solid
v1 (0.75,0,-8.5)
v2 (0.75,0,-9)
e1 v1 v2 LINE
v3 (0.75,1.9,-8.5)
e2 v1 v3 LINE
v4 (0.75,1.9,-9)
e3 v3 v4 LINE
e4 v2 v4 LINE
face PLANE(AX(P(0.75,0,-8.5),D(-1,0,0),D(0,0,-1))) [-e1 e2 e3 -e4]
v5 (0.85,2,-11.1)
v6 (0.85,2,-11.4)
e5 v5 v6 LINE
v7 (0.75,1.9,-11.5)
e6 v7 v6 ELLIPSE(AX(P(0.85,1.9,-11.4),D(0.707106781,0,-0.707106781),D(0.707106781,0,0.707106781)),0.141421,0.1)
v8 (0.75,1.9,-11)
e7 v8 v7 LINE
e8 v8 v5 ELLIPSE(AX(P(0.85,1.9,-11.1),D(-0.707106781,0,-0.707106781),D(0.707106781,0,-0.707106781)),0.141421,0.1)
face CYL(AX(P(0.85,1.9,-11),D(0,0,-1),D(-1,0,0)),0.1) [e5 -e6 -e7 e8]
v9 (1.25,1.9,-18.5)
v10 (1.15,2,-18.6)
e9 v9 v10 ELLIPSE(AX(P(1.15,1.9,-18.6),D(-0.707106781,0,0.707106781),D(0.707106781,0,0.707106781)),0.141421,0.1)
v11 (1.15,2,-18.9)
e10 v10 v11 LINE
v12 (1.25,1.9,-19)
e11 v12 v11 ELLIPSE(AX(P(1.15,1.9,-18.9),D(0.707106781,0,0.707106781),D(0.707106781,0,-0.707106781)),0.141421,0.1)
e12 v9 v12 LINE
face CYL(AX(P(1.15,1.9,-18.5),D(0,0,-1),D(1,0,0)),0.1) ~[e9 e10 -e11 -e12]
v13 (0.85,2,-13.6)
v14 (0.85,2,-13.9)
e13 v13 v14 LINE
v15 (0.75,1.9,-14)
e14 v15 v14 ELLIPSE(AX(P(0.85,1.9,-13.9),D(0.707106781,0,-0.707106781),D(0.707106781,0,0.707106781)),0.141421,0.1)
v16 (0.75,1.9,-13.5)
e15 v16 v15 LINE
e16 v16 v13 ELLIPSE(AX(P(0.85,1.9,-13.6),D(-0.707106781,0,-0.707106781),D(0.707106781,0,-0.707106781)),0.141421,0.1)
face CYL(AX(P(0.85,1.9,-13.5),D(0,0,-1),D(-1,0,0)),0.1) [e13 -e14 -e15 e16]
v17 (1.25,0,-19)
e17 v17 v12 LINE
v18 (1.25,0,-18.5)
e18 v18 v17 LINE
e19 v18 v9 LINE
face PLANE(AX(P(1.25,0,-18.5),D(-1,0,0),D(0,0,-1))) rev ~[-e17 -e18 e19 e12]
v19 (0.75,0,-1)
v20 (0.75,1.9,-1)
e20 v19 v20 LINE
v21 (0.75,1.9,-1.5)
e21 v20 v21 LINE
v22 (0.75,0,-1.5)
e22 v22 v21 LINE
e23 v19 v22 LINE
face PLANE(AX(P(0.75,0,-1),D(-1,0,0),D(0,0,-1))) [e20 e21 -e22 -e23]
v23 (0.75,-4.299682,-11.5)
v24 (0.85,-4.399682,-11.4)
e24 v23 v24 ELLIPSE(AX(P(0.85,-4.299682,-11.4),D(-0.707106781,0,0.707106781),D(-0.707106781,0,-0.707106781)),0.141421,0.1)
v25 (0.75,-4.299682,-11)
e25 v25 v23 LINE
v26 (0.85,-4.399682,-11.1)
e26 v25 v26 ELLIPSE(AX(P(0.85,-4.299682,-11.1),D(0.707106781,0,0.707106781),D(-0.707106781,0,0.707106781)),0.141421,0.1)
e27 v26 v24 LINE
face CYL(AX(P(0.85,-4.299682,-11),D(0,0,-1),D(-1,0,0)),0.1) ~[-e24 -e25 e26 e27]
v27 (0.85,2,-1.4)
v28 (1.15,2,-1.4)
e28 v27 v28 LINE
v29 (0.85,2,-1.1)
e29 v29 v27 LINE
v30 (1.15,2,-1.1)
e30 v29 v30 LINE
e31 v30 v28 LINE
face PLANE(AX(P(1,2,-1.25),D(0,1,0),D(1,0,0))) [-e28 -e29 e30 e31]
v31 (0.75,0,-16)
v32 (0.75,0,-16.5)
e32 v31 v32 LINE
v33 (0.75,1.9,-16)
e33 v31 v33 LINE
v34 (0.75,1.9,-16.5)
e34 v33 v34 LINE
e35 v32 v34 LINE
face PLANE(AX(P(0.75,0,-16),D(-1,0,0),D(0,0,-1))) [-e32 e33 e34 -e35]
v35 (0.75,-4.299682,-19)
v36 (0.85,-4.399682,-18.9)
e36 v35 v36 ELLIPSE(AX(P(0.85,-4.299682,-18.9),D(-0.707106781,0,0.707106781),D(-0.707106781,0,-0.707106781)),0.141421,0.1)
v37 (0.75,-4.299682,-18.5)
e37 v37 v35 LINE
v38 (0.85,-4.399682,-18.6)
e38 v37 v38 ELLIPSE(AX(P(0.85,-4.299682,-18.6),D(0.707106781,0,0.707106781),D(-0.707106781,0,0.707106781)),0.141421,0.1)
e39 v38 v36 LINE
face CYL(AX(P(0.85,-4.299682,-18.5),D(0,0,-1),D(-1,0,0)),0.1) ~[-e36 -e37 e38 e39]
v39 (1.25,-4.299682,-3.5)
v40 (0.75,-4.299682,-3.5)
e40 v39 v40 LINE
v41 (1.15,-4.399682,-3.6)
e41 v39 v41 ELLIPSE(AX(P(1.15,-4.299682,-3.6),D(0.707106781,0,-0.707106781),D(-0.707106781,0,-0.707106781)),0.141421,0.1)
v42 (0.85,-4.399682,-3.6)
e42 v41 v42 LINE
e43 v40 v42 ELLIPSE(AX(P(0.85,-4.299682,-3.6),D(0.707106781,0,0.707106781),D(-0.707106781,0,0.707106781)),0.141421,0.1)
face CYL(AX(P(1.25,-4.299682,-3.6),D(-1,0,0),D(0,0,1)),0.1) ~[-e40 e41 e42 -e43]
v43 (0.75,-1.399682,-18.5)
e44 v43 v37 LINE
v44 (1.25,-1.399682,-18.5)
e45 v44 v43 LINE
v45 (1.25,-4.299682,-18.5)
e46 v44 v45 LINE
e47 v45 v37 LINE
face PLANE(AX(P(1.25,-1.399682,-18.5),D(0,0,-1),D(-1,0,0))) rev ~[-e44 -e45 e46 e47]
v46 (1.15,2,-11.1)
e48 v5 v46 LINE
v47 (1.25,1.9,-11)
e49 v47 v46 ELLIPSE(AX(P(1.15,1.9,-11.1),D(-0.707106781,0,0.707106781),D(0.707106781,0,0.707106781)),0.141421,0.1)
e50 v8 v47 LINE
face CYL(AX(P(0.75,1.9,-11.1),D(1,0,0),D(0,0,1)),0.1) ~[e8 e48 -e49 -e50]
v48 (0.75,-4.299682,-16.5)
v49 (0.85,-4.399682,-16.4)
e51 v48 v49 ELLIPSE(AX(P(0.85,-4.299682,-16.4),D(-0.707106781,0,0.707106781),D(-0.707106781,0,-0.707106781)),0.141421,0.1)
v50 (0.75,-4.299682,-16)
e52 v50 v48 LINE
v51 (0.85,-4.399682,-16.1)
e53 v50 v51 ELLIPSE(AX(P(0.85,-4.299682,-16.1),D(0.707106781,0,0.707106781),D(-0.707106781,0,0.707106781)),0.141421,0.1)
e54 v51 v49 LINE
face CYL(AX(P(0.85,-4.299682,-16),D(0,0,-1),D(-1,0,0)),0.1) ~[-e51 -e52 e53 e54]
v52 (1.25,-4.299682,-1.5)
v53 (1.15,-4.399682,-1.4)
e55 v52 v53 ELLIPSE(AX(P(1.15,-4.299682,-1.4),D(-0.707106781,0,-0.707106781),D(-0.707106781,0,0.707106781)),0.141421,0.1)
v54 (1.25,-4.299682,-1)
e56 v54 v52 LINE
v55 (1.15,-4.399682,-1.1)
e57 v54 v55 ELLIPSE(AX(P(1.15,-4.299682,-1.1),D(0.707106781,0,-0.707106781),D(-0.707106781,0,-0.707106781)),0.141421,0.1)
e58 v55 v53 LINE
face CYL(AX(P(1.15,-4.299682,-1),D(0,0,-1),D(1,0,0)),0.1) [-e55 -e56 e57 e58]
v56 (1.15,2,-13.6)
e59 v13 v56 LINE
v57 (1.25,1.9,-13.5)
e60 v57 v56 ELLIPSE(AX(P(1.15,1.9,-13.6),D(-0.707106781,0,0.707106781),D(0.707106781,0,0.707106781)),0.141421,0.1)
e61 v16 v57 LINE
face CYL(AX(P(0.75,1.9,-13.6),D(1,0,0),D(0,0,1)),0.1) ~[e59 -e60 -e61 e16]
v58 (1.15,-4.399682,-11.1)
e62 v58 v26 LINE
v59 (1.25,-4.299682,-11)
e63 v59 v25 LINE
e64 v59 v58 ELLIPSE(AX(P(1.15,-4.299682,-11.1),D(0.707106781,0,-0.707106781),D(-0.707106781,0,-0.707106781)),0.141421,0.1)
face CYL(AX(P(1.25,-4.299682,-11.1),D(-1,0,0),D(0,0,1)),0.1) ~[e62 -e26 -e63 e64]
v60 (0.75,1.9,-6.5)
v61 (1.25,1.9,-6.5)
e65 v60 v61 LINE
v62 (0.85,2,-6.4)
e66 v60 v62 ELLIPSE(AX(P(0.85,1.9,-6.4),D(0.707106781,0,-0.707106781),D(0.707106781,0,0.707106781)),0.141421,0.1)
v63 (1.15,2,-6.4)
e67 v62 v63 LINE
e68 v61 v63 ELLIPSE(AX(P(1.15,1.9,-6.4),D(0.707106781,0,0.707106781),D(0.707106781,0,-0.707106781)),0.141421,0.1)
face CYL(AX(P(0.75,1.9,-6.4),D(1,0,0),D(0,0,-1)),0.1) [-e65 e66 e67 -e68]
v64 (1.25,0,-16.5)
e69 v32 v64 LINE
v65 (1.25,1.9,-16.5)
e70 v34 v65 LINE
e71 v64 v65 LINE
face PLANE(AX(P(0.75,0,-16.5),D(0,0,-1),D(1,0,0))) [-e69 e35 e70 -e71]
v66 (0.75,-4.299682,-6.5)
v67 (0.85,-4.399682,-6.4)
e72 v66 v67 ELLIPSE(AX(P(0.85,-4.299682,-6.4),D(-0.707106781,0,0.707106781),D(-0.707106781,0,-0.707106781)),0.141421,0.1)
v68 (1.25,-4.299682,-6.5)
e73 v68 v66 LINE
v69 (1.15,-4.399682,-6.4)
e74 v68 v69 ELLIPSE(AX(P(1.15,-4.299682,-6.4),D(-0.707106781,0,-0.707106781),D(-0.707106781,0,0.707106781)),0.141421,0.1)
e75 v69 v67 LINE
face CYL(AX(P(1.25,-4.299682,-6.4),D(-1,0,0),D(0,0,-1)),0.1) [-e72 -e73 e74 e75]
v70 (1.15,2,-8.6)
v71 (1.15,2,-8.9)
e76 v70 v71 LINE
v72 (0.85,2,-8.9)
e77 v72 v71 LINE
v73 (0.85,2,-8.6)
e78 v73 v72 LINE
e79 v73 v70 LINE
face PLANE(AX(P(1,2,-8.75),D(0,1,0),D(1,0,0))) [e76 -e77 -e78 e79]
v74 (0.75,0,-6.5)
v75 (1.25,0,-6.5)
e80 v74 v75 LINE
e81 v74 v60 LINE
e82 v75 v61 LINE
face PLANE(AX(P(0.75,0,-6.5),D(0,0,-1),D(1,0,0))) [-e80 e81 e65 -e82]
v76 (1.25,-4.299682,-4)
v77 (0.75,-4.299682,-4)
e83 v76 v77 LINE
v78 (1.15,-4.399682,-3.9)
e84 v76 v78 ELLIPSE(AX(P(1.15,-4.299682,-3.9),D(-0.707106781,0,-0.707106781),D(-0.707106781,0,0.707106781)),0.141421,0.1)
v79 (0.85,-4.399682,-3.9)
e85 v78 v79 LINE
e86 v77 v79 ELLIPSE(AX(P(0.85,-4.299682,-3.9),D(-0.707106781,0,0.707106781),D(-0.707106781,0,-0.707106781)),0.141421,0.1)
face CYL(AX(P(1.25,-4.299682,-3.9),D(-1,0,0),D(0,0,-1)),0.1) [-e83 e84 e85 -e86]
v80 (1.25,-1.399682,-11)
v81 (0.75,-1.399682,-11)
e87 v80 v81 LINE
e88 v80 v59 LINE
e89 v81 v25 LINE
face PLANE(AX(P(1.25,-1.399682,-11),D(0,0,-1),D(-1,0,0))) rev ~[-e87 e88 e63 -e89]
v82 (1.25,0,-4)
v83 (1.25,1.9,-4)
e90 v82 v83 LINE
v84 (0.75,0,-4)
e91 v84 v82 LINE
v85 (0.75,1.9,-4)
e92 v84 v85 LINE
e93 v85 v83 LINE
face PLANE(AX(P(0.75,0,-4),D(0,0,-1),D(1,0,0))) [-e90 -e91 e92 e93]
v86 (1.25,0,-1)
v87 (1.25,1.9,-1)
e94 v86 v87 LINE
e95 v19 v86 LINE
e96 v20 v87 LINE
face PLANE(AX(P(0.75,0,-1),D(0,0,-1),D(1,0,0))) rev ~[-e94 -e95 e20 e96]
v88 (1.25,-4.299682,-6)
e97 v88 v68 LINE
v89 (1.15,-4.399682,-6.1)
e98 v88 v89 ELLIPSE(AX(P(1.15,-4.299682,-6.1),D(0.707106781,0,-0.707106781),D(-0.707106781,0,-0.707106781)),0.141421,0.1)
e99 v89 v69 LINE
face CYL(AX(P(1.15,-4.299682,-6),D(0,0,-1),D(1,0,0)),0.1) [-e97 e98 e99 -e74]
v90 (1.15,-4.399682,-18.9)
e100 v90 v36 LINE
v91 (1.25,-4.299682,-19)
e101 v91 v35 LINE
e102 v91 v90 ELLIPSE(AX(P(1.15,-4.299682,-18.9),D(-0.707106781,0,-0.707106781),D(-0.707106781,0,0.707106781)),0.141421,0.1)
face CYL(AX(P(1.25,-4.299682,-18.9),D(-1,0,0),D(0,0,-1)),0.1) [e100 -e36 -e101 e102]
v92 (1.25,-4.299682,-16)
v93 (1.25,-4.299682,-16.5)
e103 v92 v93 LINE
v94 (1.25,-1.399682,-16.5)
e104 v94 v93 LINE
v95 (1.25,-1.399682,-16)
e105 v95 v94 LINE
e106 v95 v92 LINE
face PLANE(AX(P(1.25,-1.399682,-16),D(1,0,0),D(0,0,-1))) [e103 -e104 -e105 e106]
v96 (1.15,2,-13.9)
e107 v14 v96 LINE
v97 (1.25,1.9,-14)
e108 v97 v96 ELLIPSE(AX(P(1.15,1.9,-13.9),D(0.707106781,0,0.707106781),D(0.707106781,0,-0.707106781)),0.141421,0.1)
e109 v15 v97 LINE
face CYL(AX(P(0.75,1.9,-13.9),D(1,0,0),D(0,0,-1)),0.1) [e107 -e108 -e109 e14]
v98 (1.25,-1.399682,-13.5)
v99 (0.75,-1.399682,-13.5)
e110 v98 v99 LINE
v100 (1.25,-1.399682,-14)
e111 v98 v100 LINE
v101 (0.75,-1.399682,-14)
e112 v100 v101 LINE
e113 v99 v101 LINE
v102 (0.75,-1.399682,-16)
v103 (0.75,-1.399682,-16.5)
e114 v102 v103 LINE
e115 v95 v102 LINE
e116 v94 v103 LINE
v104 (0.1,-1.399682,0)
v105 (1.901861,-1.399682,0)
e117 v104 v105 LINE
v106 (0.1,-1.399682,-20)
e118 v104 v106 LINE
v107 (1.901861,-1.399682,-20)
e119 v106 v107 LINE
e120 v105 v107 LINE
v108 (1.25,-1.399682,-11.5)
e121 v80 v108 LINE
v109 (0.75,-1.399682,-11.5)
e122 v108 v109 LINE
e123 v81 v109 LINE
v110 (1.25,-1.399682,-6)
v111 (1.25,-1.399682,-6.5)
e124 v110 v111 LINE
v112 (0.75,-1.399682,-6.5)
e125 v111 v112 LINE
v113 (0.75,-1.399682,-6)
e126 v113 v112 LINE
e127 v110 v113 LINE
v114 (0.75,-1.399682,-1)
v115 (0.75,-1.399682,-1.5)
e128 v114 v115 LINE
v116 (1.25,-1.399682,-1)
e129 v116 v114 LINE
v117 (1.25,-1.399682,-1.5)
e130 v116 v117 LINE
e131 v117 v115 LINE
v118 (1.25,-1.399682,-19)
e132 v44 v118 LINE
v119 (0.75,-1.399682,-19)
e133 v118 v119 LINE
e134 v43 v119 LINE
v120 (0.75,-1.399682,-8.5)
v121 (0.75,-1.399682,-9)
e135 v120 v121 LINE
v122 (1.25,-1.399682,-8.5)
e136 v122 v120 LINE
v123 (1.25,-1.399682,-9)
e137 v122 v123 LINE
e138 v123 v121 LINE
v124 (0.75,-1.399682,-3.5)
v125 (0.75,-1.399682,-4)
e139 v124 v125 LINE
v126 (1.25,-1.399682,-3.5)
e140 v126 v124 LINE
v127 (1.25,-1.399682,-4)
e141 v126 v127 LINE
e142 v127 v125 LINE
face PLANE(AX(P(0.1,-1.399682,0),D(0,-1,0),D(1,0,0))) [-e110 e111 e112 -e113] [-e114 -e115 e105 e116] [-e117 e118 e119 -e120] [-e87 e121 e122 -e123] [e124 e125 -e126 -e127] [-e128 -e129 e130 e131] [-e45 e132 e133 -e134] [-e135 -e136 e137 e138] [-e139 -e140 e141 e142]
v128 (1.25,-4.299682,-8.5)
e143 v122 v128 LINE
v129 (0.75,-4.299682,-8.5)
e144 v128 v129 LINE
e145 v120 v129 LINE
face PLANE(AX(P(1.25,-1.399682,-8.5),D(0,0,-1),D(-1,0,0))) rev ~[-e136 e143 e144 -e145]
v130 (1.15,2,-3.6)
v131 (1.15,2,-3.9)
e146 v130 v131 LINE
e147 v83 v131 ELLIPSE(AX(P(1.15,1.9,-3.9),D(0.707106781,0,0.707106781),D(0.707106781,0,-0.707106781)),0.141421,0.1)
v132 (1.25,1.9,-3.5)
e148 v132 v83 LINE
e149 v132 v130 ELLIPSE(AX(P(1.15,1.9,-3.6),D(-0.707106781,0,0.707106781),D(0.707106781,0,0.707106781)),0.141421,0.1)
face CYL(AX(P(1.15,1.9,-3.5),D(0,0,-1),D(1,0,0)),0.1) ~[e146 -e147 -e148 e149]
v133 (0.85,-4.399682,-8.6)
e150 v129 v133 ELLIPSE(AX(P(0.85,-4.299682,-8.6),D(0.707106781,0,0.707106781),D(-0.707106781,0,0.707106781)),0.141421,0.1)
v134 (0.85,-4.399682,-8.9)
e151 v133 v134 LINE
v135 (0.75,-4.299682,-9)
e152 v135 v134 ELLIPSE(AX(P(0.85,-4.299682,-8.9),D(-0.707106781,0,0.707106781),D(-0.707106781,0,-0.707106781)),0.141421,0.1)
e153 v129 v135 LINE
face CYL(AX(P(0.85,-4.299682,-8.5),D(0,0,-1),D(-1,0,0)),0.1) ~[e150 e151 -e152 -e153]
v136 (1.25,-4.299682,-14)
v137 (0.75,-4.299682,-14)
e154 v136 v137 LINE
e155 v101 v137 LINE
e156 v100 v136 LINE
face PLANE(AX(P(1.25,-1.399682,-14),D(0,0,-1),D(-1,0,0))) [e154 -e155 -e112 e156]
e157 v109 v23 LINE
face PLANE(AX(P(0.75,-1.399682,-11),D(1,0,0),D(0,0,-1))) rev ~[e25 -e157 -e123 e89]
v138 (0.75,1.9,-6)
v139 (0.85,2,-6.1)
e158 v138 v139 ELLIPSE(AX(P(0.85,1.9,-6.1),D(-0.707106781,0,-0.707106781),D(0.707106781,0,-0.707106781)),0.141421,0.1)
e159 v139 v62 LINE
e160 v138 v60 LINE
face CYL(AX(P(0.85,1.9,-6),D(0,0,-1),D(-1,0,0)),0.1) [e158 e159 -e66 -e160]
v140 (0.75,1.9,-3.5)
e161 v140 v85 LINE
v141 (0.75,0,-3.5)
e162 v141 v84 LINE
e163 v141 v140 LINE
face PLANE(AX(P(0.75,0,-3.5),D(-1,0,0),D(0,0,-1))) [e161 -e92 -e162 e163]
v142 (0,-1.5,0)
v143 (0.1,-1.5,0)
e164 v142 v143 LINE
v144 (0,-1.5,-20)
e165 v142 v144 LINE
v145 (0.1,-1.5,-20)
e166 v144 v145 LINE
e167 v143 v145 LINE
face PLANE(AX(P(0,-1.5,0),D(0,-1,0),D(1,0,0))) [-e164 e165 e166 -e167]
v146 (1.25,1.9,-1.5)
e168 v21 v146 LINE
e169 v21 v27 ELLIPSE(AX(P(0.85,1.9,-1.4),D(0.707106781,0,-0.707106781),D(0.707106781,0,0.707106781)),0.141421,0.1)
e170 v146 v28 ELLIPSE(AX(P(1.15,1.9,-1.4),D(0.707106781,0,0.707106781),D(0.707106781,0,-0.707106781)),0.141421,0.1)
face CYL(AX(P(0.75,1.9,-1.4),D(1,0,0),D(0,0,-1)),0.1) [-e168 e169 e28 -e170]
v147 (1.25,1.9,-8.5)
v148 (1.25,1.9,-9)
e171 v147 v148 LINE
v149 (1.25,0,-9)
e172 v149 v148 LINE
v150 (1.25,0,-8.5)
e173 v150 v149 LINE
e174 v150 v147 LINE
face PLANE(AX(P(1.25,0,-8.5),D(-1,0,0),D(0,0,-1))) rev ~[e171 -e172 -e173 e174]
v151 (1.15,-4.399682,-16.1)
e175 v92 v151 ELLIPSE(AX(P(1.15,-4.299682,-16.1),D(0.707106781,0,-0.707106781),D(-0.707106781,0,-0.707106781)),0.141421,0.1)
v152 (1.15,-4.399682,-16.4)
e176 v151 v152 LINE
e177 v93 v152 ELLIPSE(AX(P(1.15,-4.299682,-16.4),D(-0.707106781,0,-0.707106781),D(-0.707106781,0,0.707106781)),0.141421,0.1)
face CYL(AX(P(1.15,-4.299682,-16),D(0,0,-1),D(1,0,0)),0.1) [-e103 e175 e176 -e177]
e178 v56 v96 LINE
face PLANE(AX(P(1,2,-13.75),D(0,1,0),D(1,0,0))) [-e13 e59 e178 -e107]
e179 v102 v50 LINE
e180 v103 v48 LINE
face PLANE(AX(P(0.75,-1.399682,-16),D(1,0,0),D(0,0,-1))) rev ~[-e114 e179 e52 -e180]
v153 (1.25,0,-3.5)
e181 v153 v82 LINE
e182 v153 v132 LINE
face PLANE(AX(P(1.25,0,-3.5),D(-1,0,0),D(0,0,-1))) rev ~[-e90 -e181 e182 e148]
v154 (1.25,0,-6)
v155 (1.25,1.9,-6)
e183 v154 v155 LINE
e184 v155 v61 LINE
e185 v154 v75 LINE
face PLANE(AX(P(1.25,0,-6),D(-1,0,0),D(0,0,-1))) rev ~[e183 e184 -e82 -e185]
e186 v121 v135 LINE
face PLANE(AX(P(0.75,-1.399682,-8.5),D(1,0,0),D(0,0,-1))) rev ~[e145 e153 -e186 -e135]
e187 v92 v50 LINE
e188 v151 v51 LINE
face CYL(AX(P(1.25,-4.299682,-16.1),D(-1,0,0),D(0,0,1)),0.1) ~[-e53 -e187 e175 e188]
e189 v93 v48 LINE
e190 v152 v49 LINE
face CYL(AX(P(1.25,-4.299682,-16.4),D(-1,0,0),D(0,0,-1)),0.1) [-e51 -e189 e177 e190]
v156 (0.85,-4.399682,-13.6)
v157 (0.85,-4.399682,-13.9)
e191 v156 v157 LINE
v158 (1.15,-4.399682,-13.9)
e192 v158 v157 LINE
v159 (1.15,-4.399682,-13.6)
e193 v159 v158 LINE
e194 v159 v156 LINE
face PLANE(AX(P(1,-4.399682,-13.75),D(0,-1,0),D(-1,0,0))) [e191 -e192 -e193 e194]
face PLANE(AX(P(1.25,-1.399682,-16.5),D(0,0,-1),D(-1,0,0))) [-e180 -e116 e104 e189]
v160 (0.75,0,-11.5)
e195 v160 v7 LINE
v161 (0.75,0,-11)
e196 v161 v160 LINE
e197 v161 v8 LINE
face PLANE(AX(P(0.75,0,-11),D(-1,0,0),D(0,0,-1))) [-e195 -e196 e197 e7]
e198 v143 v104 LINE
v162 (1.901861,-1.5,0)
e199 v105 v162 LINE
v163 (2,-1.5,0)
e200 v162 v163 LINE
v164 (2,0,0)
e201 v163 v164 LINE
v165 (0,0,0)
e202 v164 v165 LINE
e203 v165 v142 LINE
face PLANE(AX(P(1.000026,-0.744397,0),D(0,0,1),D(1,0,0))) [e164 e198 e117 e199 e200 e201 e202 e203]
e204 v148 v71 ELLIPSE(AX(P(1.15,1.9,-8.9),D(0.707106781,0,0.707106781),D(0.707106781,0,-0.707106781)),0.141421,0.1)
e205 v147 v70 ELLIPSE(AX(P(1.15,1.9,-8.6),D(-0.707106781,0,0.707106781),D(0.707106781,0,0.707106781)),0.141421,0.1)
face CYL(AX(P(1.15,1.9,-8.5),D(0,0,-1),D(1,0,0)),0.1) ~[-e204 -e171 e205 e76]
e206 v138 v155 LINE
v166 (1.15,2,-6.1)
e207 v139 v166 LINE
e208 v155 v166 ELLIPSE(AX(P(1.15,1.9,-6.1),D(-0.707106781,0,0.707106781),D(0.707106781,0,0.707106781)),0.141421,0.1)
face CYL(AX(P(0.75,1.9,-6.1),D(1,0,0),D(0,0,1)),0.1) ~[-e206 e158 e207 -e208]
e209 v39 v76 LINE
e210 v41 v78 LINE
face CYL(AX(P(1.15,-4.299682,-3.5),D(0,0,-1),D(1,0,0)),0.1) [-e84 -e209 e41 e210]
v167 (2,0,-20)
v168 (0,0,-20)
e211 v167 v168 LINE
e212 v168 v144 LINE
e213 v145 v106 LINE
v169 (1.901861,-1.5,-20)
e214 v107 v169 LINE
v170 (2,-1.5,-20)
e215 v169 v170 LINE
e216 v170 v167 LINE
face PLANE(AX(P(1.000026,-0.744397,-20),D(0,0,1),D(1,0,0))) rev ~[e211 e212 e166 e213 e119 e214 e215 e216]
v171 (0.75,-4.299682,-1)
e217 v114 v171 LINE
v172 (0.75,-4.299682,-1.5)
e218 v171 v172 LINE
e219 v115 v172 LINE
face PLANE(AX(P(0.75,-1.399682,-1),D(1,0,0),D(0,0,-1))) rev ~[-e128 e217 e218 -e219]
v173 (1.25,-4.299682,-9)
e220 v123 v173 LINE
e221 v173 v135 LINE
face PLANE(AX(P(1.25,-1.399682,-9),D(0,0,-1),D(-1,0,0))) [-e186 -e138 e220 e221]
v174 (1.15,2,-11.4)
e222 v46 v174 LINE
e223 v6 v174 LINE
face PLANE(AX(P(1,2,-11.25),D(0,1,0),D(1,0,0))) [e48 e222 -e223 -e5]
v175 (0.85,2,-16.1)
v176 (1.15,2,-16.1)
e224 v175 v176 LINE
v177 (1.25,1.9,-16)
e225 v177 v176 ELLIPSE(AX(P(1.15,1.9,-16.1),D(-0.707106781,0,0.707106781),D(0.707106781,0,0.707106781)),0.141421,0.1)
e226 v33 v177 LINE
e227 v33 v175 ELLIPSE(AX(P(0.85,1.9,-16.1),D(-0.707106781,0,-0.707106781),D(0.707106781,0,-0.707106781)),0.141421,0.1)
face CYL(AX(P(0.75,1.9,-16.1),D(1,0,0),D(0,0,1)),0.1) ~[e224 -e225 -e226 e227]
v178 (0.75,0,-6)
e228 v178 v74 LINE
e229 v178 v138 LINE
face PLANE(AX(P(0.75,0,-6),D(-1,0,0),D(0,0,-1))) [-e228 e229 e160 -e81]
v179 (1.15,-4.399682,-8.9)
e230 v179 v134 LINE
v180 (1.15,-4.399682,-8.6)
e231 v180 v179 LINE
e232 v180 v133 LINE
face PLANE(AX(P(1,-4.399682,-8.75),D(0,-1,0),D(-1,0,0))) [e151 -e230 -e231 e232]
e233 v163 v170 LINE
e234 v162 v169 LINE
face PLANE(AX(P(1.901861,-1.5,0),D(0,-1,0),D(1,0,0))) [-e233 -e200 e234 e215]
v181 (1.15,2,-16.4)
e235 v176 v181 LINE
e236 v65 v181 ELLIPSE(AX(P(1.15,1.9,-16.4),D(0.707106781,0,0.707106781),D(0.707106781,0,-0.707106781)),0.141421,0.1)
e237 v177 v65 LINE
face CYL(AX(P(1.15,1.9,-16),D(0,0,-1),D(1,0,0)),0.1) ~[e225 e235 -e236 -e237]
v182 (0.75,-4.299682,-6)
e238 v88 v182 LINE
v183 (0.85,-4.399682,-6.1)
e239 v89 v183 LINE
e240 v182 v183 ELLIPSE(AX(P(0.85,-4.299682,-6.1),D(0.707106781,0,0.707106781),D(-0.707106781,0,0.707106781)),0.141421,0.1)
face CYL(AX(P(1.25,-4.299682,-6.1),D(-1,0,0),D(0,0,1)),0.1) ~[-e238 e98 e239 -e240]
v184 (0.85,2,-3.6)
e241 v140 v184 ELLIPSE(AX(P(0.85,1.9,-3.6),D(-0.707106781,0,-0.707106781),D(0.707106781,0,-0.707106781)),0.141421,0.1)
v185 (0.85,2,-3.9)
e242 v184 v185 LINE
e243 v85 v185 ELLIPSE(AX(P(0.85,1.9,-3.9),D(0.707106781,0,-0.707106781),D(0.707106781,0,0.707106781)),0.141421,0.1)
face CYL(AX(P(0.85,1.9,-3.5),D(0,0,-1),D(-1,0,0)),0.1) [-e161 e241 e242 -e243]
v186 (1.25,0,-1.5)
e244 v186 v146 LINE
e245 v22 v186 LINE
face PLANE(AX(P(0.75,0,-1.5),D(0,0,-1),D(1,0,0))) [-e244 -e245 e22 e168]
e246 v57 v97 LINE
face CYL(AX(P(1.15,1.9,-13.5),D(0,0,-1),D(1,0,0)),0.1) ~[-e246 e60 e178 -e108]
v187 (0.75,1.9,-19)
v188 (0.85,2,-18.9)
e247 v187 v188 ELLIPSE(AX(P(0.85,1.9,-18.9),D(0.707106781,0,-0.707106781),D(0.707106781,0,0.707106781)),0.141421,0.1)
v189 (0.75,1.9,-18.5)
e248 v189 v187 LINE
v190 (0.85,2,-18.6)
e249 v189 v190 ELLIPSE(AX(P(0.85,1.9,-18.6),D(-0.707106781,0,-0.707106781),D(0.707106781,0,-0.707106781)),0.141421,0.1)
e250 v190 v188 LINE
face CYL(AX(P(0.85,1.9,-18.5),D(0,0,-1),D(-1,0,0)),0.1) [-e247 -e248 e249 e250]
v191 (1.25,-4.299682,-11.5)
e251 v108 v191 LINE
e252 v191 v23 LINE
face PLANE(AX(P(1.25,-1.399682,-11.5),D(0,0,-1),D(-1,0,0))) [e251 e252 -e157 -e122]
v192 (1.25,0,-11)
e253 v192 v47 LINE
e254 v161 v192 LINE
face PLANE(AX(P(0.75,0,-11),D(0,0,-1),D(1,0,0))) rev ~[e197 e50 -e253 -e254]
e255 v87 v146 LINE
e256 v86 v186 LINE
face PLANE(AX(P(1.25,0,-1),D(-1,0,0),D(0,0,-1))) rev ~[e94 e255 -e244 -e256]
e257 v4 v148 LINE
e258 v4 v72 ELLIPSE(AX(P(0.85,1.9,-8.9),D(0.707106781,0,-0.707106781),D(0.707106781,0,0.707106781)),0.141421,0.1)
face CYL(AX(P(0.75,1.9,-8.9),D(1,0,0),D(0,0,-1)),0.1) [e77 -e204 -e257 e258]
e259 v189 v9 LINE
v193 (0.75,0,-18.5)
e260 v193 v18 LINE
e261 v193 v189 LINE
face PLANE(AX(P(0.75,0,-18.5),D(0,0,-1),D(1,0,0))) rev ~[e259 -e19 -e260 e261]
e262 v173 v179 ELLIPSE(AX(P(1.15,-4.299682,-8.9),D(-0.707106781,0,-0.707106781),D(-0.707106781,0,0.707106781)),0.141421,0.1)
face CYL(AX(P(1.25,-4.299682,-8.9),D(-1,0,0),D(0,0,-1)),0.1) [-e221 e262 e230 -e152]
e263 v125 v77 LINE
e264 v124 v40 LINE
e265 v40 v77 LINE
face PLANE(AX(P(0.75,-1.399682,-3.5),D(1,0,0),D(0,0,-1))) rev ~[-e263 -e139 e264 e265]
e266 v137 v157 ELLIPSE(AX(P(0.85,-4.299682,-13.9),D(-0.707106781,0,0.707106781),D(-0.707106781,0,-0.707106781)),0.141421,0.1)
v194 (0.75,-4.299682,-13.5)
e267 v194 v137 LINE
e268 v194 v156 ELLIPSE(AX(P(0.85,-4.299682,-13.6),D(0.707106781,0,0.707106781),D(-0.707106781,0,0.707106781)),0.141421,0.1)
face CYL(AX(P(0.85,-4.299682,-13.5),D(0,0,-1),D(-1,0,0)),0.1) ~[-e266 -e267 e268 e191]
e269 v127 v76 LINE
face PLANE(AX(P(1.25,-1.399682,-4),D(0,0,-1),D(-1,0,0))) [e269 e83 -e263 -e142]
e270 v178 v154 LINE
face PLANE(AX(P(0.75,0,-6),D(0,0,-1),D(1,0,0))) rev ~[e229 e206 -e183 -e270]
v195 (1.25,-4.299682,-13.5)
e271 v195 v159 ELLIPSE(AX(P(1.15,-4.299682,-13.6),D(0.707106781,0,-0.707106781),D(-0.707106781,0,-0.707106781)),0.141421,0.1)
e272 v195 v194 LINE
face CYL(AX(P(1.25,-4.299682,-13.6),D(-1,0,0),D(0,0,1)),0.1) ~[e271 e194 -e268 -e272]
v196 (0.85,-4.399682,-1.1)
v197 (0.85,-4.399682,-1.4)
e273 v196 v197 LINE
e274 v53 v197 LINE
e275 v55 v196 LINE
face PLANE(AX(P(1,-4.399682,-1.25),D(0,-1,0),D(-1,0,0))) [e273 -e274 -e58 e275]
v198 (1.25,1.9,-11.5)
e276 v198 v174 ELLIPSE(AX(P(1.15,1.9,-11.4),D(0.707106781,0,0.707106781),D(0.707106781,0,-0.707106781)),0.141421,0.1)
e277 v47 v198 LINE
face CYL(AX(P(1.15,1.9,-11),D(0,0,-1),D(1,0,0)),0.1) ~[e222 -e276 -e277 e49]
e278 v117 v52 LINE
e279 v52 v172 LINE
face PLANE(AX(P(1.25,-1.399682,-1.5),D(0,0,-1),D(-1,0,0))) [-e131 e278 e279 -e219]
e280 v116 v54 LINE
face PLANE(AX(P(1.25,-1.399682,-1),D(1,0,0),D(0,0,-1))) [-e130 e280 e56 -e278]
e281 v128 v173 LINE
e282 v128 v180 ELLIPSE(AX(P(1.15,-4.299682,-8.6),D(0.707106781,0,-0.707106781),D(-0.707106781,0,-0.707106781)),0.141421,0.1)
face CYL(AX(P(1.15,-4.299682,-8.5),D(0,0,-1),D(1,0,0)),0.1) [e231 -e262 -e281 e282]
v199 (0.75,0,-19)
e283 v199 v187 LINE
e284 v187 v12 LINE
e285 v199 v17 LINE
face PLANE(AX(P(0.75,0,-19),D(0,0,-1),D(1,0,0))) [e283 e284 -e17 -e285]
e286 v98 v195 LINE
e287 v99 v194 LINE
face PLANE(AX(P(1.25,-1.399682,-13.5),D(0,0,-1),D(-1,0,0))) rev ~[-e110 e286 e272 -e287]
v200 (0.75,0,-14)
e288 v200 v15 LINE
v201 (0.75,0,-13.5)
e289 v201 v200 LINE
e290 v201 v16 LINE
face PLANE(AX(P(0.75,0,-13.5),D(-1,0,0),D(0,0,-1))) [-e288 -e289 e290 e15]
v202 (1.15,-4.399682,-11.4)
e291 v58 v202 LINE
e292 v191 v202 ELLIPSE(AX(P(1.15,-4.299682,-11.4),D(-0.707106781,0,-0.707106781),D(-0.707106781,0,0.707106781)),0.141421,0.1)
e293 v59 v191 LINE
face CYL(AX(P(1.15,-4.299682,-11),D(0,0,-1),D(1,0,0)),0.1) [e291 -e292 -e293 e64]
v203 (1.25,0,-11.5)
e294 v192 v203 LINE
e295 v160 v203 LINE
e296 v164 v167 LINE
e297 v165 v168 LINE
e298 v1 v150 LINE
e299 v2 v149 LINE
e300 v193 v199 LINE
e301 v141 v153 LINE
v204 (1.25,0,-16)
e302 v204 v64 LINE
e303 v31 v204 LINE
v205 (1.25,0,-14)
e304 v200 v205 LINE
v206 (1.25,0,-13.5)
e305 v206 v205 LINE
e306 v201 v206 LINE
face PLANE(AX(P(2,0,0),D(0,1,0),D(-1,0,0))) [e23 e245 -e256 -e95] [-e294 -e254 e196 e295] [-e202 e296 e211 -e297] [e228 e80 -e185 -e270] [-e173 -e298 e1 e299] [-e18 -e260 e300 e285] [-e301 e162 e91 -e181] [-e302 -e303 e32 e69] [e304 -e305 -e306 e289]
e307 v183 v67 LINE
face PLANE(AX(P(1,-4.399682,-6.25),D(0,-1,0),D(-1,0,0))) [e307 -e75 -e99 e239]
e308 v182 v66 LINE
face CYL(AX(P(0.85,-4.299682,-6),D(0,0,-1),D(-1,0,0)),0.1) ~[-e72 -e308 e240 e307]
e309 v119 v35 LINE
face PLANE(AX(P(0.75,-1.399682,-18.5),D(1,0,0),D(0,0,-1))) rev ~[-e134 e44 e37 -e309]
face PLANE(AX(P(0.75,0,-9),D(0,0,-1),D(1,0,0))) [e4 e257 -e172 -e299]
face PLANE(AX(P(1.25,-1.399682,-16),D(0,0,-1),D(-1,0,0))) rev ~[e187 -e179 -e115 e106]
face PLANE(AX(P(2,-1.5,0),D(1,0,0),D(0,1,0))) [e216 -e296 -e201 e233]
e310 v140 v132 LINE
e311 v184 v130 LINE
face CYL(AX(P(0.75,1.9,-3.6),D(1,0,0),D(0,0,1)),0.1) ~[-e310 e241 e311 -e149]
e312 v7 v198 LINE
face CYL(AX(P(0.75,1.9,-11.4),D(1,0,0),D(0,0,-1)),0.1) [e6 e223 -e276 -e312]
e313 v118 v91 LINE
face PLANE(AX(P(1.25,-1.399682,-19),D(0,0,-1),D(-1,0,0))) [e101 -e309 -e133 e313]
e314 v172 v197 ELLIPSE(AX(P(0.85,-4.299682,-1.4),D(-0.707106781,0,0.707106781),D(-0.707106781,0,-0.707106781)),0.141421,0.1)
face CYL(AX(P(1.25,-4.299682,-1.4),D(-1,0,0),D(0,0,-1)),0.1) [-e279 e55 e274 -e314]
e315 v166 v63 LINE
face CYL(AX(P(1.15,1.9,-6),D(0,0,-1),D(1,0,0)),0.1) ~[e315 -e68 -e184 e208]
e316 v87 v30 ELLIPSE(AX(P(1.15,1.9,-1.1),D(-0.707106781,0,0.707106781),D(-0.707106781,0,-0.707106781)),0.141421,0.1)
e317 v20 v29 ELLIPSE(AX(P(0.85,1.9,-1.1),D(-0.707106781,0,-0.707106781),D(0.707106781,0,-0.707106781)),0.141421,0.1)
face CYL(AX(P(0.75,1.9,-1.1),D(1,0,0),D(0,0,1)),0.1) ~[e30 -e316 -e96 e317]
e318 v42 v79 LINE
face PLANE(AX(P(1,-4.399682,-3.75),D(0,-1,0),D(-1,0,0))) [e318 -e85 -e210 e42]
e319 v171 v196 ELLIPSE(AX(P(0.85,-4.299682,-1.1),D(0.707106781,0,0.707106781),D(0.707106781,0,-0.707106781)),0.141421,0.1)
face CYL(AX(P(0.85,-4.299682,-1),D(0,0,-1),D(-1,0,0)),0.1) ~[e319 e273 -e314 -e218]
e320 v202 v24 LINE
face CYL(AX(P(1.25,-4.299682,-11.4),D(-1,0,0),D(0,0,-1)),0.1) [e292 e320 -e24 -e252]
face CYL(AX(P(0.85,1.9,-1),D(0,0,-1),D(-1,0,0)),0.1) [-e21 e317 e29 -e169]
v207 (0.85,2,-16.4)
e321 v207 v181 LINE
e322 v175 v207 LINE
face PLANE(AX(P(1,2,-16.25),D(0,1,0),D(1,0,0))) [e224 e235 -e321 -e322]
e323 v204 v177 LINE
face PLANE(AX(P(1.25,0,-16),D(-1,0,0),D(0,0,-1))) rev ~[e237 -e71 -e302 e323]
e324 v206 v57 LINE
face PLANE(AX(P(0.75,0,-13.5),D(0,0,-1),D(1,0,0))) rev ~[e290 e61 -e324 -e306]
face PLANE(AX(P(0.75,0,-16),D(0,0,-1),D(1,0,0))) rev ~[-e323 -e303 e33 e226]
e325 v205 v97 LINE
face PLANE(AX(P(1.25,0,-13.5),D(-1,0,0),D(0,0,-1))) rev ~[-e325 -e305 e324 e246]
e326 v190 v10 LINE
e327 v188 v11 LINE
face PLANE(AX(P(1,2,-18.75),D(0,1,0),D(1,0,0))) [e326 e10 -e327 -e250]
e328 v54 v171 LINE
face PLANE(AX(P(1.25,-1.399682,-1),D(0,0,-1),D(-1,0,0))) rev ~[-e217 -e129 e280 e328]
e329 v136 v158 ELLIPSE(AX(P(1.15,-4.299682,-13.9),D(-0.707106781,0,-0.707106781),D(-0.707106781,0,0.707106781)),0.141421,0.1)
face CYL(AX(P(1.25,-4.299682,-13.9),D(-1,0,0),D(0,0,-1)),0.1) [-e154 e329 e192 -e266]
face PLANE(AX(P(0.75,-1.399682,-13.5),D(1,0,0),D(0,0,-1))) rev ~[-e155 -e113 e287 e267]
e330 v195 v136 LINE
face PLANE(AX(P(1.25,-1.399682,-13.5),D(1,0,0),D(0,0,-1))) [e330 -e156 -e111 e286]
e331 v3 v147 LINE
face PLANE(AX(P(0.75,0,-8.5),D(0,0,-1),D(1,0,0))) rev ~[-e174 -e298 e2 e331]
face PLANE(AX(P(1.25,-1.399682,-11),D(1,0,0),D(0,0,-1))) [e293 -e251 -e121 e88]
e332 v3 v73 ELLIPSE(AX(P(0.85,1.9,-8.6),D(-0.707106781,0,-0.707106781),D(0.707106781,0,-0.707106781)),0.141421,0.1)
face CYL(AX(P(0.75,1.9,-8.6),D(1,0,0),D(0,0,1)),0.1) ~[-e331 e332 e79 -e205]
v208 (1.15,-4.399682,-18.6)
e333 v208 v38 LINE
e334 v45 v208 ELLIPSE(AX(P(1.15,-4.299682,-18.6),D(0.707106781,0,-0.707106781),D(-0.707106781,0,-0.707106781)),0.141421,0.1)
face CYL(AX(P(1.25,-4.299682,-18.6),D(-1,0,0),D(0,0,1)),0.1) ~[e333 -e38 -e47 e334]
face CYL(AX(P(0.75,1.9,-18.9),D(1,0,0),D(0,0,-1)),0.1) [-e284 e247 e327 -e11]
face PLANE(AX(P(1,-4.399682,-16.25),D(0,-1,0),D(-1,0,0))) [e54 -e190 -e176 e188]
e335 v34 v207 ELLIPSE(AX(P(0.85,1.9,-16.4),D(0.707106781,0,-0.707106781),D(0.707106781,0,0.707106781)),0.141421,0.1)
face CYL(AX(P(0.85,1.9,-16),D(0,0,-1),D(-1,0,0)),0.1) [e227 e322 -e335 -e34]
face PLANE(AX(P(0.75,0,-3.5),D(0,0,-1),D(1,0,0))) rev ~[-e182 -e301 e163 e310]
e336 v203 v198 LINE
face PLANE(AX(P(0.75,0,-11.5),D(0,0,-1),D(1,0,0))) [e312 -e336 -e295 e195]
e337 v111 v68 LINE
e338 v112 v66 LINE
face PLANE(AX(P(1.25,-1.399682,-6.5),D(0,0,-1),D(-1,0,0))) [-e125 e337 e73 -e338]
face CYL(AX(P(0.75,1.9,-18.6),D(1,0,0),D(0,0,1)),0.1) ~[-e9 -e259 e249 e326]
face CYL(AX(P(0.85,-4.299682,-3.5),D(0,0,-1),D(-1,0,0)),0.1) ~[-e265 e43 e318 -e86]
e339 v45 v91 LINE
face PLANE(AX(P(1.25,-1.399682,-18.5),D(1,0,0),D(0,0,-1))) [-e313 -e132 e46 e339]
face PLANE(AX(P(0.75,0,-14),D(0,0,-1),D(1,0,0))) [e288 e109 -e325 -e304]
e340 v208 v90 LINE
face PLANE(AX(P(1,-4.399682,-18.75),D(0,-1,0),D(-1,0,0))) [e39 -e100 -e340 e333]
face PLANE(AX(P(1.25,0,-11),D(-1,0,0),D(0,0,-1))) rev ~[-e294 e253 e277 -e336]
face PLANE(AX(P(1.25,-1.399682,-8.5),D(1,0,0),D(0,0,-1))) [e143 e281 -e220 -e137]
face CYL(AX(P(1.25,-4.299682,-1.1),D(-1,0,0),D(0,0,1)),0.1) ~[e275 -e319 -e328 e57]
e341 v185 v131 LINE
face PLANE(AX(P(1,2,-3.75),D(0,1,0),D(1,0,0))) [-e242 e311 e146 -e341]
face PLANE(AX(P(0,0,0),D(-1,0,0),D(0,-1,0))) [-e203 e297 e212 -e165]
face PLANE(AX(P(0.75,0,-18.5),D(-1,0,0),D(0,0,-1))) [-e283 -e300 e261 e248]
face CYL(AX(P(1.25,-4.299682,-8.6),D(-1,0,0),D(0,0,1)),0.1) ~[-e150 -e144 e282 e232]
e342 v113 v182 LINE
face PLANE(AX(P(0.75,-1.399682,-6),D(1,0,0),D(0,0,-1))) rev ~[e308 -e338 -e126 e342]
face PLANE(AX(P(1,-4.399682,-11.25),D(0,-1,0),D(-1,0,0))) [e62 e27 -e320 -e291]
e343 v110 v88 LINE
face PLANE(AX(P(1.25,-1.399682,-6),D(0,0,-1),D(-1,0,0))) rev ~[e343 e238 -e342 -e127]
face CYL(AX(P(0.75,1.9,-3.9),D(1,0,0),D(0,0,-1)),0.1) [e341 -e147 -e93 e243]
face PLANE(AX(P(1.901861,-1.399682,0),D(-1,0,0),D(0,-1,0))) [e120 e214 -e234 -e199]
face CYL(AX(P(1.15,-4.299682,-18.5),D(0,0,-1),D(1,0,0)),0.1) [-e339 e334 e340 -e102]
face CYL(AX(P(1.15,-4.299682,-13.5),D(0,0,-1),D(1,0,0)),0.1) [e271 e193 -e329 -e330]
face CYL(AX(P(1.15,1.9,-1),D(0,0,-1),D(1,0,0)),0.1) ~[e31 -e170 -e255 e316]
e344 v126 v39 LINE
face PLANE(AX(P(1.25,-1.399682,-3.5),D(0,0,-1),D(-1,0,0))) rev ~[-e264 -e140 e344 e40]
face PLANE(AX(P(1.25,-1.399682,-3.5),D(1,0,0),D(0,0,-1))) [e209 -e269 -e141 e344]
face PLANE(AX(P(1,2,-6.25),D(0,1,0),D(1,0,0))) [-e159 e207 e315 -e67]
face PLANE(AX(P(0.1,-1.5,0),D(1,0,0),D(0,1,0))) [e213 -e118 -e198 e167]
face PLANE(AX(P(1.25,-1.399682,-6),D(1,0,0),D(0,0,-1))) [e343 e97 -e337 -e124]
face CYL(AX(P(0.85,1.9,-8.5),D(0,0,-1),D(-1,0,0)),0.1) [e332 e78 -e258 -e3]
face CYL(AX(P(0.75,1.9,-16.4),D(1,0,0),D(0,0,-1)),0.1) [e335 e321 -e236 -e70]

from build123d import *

# Parameters (mm, degrees)
BOSS_EXTRUDE1_DEPTH = 20
SKETCH2_W           = 0.5
SKETCH2_H           = 0.5
BOSS_EXTRUDE2_DEPTH = 2
SKETCH3_W           = 0.5
SKETCH3_H           = 0.5
BOSS_EXTRUDE3_DEPTH = 3
FILLET2_R           = 0.1


with BuildPart() as part:
    # Sketch1 → Boss-Extrude1 (new body)
    with BuildSketch(Plane.XY):
        Polygon((0.1, -1.5), (0.1, -1.399682434), (1.901861327, -1.399682434), (1.901861327, -1.5), (2, -1.5), (2, 0), (0, 0), (0, -1.5), align=None)
    extrude(amount=-BOSS_EXTRUDE1_DEPTH)

    # Sketch2 → Boss-Extrude2 (add)
    with BuildSketch(Plane(origin=(0, 0, 0), x_dir=(1, 0, 0), z_dir=(0, 1, 0))):
        with Locations((1, 3.75)):
            Rectangle(SKETCH2_W, SKETCH2_H)
        with Locations((1, 1.25)):
            Rectangle(SKETCH2_W, SKETCH2_H)
        with Locations((1, 6.25)):
            Rectangle(SKETCH2_W, SKETCH2_H)
        with Locations((1, 8.75)):
            Rectangle(SKETCH2_W, SKETCH2_H)
        with Locations((1, 11.25)):
            Rectangle(SKETCH2_W, SKETCH2_H)
        with Locations((1, 13.75)):
            Rectangle(SKETCH2_W, SKETCH2_H)
        with Locations((1, 16.25)):
            Rectangle(SKETCH2_W, SKETCH2_H)
        with Locations((1, 18.75)):
            Rectangle(SKETCH2_W, SKETCH2_H)
    extrude(amount=BOSS_EXTRUDE2_DEPTH)

    # Sketch3 → Boss-Extrude3 (add)
    with BuildSketch(Plane(origin=(0, -1.399682434, 0), x_dir=(-1, 0, 0), z_dir=(0, -1, 0))):
        with Locations((-1, 1.25)):
            Rectangle(SKETCH3_W, SKETCH3_H)
        with Locations((-1, 3.75)):
            Rectangle(SKETCH3_W, SKETCH3_H)
        with Locations((-1, 6.25)):
            Rectangle(SKETCH3_W, SKETCH3_H)
        with Locations((-1, 8.75)):
            Rectangle(SKETCH3_W, SKETCH3_H)
        with Locations((-1, 11.25)):
            Rectangle(SKETCH3_W, SKETCH3_H)
        with Locations((-1, 13.75)):
            Rectangle(SKETCH3_W, SKETCH3_H)
        with Locations((-1, 16.25)):
            Rectangle(SKETCH3_W, SKETCH3_H)
        with Locations((-1, 18.75)):
            Rectangle(SKETCH3_W, SKETCH3_H)
    extrude(amount=BOSS_EXTRUDE3_DEPTH)

    # Fillet2
    fillet2_edges = [part.edges().sort_by_distance(p)[0] for p in [
        (1, 2, -18.5),
        (1.25, 2, -18.75),
        (1, 2, -19),
        (0.75, 2, -18.75),
        (0.75, -4.399682434, -1.25),
        (1, -4.399682434, -1.5),
        (1.25, -4.399682434, -1.25),
        (1, -4.399682434, -1),
        (1, -4.399682434, -3.5),
        (0.75, -4.399682434, -3.75),
        (1, -4.399682434, -4),
        (1.25, -4.399682434, -3.75),
        (1, -4.399682434, -6),
        (0.75, -4.399682434, -6.25),
        (1, -4.399682434, -6.5),
        (1.25, -4.399682434, -6.25),
        (1, -4.399682434, -8.5),
        (0.75, -4.399682434, -8.75),
        (1, -4.399682434, -9),
        (1.25, -4.399682434, -8.75),
        (1, -4.399682434, -11),
        (0.75, -4.399682434, -11.25),
        (1, -4.399682434, -11.5),
        (1.25, -4.399682434, -11.25),
        (1, -4.399682434, -13.5),
        (0.75, -4.399682434, -13.75),
        (1, -4.399682434, -14),
        (1.25, -4.399682434, -13.75),
        (1, -4.399682434, -16),
        (0.75, -4.399682434, -16.25),
        (1, -4.399682434, -16.5),
        (1.25, -4.399682434, -16.25),
        (1, -4.399682434, -18.5),
        (0.75, -4.399682434, -18.75),
        (1, -4.399682434, -19),
        (1.25, -4.399682434, -18.75),
        (1.25, 2, -1.25),
        (1, 2, -1.5),
        (0.75, 2, -1.25),
        (1, 2, -1),
        (1, 2, -3.5),
        (1.25, 2, -3.75),
        (1, 2, -4),
        (0.75, 2, -3.75),
        (1, 2, -6),
        (1.25, 2, -6.25),
        (1, 2, -6.5),
        (0.75, 2, -6.25),
        (1, 2, -8.5),
        (1.25, 2, -8.75),
        (1, 2, -9),
        (0.75, 2, -8.75),
        (1, 2, -11),
        (1.25, 2, -11.25),
        (1, 2, -11.5),
        (0.75, 2, -11.25),
        (1, 2, -13.5),
        (1.25, 2, -13.75),
        (1, 2, -14),
        (0.75, 2, -13.75),
        (1, 2, -16),
        (1.25, 2, -16.25),
        (1, 2, -16.5),
        (0.75, 2, -16.25),
    ]]
    fillet(fillet2_edges, radius=FILLET2_R)


solid = part.part
